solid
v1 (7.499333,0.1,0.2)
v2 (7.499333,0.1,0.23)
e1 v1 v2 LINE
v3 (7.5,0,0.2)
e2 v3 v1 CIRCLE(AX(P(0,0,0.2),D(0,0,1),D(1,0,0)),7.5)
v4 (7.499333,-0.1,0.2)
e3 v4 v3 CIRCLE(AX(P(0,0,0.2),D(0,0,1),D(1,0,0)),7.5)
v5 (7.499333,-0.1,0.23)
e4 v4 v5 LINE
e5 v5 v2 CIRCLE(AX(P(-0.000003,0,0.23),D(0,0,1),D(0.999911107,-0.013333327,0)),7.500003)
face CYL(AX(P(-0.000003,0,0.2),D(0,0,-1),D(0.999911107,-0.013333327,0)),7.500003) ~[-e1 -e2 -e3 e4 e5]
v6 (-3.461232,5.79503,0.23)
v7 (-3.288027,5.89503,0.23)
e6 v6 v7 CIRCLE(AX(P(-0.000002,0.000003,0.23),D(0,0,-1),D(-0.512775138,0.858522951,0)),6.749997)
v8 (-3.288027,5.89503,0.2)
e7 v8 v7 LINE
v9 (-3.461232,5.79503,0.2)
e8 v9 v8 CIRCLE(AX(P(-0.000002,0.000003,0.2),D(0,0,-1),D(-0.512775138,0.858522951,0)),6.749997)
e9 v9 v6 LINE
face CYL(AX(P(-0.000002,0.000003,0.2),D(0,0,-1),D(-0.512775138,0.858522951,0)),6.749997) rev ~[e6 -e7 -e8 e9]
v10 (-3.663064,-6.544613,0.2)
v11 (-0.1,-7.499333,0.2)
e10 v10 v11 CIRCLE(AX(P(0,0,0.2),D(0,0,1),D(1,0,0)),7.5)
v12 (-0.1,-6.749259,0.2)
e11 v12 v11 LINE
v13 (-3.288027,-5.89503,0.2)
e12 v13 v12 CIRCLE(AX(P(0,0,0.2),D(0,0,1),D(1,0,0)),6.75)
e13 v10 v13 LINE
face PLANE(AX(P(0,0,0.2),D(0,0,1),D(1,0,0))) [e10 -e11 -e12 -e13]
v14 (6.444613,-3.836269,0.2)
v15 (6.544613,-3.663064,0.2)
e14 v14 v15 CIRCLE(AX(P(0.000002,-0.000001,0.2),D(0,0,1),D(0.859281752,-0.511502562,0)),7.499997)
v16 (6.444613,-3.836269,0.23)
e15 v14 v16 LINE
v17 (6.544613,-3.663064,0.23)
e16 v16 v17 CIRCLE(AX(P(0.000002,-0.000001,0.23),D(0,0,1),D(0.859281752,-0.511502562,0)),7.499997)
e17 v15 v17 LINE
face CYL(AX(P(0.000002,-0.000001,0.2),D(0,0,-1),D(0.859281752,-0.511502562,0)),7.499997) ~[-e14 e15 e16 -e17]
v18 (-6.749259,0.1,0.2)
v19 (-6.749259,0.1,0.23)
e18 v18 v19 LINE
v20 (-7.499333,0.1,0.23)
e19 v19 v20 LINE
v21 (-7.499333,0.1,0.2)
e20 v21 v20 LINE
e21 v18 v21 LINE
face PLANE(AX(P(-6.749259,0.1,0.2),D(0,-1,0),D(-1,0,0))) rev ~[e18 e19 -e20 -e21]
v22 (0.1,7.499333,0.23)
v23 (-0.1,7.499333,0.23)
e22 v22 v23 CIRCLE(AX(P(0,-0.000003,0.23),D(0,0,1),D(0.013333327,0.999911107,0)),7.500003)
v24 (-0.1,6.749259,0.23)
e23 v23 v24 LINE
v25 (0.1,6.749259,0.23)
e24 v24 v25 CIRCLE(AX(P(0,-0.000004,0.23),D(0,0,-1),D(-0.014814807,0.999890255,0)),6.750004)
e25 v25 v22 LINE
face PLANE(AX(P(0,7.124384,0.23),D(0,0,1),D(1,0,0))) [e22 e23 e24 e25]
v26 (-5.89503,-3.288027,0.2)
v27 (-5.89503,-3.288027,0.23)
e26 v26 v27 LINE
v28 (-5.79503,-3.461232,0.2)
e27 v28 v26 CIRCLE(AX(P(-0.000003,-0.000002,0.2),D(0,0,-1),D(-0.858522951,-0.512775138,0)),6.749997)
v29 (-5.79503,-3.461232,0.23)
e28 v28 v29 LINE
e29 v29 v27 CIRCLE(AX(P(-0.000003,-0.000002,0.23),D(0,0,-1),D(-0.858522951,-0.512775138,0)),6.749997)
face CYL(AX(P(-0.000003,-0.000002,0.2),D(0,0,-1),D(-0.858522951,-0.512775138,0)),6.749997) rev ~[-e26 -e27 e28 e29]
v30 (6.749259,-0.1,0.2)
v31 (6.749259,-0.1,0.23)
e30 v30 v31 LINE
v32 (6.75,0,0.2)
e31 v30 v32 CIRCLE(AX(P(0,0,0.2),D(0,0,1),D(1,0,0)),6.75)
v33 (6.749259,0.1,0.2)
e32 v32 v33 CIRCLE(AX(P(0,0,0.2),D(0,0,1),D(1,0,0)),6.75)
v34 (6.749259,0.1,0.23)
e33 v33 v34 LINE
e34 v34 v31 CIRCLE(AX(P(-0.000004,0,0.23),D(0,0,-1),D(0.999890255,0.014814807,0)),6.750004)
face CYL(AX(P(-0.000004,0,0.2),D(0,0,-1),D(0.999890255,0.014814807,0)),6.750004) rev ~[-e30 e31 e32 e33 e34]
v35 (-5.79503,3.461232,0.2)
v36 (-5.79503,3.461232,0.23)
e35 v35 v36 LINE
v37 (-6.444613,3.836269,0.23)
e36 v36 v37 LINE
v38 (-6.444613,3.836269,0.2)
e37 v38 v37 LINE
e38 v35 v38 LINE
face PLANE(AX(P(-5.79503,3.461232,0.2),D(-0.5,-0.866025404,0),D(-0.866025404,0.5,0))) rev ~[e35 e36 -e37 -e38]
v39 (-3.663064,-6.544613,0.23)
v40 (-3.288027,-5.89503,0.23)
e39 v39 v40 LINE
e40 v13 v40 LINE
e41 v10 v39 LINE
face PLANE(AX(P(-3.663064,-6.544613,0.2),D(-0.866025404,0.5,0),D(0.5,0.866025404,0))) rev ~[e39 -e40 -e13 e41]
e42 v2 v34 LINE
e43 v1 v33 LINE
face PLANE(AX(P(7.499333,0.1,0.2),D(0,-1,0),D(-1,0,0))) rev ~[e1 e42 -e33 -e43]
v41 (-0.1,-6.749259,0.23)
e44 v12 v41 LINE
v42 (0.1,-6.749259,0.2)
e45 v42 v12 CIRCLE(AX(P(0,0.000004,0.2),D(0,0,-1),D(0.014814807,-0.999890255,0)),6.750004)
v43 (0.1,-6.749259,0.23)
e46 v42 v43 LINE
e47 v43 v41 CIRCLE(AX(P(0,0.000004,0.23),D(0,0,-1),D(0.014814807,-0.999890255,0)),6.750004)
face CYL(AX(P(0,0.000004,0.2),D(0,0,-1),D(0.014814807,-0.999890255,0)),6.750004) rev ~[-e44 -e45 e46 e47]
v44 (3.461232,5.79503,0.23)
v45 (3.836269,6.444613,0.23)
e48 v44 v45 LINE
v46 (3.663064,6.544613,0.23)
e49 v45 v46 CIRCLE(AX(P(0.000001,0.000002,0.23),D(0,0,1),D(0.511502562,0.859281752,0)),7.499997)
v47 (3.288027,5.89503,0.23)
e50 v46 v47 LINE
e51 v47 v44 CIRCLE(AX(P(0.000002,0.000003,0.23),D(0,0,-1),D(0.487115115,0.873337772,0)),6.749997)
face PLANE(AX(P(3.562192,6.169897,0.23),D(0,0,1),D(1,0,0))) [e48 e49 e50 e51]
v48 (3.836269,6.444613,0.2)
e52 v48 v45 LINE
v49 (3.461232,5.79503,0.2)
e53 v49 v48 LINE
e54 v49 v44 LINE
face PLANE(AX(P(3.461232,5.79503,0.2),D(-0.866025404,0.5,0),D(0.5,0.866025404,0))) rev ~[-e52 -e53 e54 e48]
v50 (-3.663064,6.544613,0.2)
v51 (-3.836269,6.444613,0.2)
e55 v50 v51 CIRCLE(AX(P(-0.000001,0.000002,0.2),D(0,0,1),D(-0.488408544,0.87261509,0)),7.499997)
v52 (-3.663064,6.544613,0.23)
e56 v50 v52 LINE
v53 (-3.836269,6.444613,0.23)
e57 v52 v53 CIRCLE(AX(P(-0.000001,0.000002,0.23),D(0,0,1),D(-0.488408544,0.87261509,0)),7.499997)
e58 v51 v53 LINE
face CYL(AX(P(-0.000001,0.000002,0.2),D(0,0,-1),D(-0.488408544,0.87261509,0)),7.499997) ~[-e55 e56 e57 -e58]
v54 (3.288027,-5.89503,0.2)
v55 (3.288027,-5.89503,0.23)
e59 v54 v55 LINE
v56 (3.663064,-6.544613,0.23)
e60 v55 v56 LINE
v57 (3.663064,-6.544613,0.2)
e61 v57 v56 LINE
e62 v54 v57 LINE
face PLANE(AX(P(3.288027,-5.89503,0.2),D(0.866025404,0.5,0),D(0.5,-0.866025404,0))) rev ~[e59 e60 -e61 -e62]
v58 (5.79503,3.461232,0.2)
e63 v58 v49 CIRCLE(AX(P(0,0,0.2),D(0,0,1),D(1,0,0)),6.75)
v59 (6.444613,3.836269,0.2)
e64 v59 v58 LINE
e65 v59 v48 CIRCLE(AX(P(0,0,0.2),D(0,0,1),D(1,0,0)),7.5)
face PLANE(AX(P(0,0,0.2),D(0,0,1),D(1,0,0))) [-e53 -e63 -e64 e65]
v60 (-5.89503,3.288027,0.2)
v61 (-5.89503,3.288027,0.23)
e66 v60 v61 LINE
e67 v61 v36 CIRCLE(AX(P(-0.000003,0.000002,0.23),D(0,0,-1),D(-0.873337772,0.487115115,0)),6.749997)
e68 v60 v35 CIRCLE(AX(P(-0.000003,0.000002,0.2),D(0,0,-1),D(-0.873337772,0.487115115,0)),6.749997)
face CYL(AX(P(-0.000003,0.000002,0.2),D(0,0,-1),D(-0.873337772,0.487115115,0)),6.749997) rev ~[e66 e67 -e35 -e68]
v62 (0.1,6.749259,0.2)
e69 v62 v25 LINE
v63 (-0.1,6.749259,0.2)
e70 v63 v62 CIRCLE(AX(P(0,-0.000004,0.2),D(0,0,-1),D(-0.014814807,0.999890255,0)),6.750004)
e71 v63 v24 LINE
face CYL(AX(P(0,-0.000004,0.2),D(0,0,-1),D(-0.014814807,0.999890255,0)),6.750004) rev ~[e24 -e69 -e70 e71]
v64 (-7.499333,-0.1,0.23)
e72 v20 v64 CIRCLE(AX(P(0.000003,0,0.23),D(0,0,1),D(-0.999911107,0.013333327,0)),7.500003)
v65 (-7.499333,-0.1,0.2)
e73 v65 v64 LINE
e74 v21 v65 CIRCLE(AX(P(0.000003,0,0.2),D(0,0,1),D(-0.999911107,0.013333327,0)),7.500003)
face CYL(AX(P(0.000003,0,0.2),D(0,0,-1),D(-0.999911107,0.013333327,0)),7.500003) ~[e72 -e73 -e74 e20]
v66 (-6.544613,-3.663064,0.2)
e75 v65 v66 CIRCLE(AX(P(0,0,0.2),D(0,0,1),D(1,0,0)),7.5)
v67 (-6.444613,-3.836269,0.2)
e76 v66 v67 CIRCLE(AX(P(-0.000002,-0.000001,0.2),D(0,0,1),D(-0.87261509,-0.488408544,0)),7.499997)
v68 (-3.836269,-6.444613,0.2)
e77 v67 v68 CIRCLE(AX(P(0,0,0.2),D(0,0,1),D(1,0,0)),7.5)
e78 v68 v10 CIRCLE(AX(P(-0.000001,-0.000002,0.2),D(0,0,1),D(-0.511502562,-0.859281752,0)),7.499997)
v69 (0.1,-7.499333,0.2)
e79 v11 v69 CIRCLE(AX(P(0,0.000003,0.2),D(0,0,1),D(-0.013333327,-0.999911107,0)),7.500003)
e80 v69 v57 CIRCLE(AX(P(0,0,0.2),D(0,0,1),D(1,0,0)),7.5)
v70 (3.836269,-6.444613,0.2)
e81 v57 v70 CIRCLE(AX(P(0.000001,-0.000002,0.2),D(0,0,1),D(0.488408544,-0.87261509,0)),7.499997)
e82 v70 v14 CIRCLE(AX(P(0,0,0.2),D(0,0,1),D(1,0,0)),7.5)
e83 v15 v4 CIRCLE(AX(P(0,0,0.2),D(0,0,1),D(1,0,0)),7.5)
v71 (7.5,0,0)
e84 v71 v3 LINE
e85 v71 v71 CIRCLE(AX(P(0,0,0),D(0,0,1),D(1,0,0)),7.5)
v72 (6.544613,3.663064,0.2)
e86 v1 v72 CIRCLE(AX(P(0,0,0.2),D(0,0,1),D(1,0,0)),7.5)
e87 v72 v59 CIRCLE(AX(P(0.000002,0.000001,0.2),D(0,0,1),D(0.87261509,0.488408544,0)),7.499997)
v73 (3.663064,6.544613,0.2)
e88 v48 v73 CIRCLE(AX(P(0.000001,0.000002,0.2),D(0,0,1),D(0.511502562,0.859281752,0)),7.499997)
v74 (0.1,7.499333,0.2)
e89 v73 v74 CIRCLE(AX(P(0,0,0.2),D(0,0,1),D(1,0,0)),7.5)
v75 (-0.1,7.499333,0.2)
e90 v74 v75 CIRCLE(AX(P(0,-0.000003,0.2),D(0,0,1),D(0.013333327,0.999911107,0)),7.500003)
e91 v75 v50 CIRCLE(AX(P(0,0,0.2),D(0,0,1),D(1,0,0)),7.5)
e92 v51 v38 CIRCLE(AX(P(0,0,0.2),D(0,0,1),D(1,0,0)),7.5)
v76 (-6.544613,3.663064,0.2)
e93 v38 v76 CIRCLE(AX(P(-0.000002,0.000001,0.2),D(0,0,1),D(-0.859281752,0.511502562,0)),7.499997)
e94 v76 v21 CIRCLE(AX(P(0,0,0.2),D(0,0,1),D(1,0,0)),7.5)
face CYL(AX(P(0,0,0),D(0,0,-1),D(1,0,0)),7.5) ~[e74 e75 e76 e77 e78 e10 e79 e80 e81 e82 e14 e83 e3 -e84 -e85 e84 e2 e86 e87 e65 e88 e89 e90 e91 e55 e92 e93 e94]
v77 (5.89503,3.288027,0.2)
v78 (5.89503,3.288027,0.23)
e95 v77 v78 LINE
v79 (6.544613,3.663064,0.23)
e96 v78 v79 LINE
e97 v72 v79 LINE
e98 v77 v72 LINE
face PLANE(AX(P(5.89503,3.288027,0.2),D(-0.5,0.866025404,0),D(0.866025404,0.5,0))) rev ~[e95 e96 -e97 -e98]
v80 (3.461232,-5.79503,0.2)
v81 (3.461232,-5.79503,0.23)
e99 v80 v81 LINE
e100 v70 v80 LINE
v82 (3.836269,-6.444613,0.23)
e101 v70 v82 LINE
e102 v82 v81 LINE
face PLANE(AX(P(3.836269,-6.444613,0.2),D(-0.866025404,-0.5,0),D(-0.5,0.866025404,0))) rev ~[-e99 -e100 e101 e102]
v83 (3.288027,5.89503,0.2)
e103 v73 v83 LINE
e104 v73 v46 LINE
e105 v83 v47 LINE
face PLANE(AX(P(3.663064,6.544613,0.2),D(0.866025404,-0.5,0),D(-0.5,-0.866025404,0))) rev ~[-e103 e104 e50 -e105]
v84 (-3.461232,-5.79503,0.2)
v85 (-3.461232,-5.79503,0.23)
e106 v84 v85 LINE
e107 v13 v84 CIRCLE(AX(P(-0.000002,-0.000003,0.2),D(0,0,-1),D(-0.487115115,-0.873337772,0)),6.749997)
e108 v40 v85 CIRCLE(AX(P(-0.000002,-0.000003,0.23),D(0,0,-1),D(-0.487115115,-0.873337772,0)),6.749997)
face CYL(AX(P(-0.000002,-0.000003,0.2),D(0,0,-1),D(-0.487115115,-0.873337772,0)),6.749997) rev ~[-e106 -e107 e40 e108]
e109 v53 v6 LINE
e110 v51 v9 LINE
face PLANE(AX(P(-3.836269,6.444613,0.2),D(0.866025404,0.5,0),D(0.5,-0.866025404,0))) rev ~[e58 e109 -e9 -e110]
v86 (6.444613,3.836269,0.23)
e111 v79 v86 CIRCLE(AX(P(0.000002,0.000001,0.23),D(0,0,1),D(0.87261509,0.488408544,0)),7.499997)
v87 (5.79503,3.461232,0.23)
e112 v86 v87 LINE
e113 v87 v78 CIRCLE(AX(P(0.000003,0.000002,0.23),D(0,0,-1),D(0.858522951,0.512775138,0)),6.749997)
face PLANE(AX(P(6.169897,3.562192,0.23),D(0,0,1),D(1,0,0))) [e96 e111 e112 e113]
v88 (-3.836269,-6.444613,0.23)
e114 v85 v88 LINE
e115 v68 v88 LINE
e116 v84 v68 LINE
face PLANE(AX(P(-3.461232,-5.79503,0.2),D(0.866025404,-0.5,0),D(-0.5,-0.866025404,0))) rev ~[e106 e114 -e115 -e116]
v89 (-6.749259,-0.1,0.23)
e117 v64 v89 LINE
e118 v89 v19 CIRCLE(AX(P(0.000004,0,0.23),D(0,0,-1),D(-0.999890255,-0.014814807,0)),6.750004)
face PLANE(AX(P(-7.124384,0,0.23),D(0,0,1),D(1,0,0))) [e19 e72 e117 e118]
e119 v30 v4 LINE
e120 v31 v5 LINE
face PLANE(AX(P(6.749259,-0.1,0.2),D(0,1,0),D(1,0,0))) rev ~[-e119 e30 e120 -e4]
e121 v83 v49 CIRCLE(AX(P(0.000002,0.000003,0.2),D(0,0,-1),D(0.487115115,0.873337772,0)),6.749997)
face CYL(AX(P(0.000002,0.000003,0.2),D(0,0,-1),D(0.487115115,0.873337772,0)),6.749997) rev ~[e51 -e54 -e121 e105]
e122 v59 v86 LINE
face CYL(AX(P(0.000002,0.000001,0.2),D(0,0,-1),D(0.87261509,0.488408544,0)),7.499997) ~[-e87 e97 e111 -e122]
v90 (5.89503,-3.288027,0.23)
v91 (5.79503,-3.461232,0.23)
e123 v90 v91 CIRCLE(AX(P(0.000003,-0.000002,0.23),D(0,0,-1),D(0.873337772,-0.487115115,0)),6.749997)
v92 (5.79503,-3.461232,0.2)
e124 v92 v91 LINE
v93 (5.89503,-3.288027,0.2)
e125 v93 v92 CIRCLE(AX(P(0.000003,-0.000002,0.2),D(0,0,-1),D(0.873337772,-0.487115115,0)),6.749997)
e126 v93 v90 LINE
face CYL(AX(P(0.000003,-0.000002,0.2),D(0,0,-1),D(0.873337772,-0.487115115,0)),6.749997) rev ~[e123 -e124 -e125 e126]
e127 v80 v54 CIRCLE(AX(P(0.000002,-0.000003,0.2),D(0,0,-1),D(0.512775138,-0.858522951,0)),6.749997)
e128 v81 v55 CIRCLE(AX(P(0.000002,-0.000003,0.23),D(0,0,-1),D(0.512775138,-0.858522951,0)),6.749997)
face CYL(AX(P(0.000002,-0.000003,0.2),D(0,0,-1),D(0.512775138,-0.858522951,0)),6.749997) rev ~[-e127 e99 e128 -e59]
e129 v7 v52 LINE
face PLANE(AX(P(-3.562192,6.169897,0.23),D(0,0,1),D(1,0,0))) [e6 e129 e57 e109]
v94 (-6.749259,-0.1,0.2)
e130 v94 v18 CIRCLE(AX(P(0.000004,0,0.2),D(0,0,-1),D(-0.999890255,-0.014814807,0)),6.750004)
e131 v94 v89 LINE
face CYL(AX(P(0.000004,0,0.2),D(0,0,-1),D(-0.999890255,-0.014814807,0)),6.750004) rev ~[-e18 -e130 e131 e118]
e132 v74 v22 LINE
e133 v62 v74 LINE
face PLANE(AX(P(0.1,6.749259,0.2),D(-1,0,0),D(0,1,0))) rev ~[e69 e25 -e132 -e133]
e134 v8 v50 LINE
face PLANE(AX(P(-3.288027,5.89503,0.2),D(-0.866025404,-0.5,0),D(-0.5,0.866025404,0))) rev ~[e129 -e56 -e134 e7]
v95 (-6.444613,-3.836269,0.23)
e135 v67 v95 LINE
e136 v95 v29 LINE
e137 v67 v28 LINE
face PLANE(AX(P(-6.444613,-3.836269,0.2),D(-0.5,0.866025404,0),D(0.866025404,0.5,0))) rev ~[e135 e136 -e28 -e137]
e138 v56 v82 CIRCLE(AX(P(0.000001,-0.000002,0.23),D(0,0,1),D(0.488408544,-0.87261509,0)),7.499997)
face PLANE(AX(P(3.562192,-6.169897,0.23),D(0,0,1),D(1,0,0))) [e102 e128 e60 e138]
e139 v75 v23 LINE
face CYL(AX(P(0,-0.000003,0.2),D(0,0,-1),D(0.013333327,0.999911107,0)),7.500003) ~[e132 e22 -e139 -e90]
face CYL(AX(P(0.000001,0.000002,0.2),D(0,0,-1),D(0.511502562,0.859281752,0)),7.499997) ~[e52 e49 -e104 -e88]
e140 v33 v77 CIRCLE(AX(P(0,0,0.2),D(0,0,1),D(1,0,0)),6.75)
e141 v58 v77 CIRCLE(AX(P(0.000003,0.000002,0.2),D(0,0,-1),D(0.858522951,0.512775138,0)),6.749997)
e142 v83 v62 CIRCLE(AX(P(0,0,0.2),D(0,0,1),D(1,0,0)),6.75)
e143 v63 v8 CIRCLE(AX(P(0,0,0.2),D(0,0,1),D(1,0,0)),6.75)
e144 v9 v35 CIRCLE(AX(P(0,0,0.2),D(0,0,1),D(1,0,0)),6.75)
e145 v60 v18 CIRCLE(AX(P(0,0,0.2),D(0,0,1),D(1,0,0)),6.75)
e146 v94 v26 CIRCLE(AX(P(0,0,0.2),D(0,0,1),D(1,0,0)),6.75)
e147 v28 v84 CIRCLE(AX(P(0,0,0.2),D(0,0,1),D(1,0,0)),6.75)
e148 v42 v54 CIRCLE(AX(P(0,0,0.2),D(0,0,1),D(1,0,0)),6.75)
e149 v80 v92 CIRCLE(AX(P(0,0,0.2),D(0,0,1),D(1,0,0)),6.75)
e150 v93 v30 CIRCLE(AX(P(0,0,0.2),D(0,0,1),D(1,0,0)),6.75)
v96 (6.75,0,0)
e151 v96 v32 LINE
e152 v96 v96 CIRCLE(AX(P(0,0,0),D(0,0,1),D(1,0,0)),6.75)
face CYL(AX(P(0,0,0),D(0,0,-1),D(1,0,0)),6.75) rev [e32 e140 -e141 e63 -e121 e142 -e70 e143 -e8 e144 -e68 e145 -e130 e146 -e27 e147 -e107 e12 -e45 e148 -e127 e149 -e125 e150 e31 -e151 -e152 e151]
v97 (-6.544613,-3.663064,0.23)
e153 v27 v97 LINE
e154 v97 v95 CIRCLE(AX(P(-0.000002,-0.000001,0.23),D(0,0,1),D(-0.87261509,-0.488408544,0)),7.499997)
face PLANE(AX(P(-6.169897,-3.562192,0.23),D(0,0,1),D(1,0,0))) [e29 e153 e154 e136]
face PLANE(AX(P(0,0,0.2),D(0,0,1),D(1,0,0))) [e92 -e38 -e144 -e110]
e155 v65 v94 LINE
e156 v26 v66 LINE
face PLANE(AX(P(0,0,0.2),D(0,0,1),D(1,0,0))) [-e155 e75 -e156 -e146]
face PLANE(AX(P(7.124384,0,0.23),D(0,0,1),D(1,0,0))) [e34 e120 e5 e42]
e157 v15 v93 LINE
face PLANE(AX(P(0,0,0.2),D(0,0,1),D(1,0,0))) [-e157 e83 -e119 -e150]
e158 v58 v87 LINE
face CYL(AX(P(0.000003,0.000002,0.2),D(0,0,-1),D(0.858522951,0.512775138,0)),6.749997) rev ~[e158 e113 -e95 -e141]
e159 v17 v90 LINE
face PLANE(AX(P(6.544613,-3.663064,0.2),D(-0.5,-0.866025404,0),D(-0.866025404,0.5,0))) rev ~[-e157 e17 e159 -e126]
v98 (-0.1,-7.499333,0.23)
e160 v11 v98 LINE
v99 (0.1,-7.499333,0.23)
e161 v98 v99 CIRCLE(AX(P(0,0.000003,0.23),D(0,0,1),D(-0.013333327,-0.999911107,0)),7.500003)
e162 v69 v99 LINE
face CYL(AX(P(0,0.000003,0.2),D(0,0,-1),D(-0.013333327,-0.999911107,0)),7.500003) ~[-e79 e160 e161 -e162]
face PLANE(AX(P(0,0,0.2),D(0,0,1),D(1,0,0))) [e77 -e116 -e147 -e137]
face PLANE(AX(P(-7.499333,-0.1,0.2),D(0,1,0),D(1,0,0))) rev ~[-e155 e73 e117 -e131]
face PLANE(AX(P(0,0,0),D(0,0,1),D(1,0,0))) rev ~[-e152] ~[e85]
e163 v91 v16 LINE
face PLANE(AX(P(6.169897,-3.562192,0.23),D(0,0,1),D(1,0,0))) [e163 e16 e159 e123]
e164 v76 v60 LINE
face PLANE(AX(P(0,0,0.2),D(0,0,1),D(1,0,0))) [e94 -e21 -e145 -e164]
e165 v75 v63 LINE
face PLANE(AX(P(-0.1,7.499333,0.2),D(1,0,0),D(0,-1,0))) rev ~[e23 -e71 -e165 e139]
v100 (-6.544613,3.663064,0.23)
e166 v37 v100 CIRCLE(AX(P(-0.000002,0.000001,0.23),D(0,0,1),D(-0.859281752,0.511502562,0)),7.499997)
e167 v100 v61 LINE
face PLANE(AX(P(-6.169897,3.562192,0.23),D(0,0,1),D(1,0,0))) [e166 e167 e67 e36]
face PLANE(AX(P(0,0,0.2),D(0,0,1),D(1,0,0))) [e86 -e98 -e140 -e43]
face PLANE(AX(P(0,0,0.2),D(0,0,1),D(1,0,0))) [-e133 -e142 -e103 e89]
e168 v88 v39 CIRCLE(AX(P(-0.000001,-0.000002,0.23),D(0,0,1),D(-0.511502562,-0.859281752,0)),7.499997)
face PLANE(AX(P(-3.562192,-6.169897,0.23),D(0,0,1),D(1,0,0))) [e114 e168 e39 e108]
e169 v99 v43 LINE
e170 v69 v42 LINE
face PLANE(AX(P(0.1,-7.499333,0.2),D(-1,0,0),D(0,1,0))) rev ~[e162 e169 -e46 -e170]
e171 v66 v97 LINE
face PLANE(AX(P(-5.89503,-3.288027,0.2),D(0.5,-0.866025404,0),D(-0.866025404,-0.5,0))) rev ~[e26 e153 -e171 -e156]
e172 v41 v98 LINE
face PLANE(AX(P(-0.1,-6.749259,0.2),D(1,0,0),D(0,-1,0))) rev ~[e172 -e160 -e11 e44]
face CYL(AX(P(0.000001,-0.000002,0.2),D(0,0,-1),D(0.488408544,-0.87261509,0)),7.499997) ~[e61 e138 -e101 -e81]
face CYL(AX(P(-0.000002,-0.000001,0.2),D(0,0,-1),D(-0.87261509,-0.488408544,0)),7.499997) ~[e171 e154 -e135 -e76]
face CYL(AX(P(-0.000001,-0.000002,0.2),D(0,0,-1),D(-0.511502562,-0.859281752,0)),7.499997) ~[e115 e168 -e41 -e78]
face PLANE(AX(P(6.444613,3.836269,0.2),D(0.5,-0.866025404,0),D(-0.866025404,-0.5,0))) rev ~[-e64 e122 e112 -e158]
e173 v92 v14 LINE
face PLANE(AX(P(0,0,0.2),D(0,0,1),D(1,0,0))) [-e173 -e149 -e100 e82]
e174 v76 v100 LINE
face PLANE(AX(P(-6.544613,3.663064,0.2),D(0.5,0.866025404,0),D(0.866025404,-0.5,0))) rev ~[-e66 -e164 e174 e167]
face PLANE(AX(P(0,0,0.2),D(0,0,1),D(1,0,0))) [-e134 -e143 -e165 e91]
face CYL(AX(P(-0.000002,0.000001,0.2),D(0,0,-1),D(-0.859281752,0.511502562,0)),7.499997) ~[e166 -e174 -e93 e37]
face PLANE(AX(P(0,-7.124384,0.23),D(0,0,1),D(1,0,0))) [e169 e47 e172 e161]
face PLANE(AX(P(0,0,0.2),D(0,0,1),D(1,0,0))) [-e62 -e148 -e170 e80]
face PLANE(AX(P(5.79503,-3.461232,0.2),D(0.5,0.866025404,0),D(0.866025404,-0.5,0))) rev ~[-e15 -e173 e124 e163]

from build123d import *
from build123d.topology import SkipClean

# Parameters (mm, degrees)
SKETCH1_R           = 7.5
SKETCH1_R_2         = 6.75
BOSS_EXTRUDE1_DEPTH = 0.2
BOSS_EXTRUDE3_DEPTH = 0.03


with BuildPart() as part:
    # Sketch1 → Boss-Extrude1 (new body)
    with BuildSketch(Plane.XY):
        Circle(SKETCH1_R)
        Circle(SKETCH1_R_2, mode=Mode.SUBTRACT)
    extrude(amount=BOSS_EXTRUDE1_DEPTH)

    # Sketch2 → Boss-Extrude3 (add)
    with SkipClean():  # the faces are left unmerged after this step: merging them gives an invalid solid
        with BuildSketch(Plane.XY.offset(0.2)):
            with BuildLine():
                Line((3.663064111, 6.544613152), (3.288027069, 5.89502994))
                ThreePointArc((3.288027069, 5.89502994), (3.375, 5.845671476), (3.46123215, 5.79502994))
                Line((3.46123215, 5.79502994), (3.836269192, 6.444613152))
                ThreePointArc((3.836269192, 6.444613152), (3.75, 6.495190528), (3.663064111, 6.544613152))
            make_face()
            with BuildLine():
                Line((-0.1, 7.499333304), (-0.1, 6.749259219))
                ThreePointArc((-0.1, 6.749259219), (0, 6.75), (0.1, 6.749259219))
                Line((0.1, 6.749259219), (0.1, 7.499333304))
                ThreePointArc((0.1, 7.499333304), (0, 7.5), (-0.1, 7.499333304))
            make_face()
            with BuildLine():
                Line((6.444613152, 3.836269192), (5.79502994, 3.46123215))
                ThreePointArc((5.79502994, 3.46123215), (5.845671476, 3.375), (5.89502994, 3.288027069))
                Line((5.89502994, 3.288027069), (6.544613152, 3.663064111))
                ThreePointArc((6.544613152, 3.663064111), (6.495190528, 3.75), (6.444613152, 3.836269192))
            make_face()
            with BuildLine():
                Line((7.499333304, 0.1), (6.749259219, 0.1))
                ThreePointArc((6.749259219, 0.1), (6.75, 0), (6.749259219, -0.1))
                Line((6.749259219, -0.1), (7.499333304, -0.1))
                ThreePointArc((7.499333304, -0.1), (7.5, 0), (7.499333304, 0.1))
            make_face()
            with BuildLine():
                Line((6.544613152, -3.663064111), (5.89502994, -3.288027069))
                ThreePointArc((5.89502994, -3.288027069), (5.845671476, -3.375), (5.79502994, -3.46123215))
                Line((5.79502994, -3.46123215), (6.444613152, -3.836269192))
                ThreePointArc((6.444613152, -3.836269192), (6.495190528, -3.75), (6.544613152, -3.663064111))
            make_face()
            with BuildLine():
                Line((3.836269192, -6.444613152), (3.46123215, -5.79502994))
                ThreePointArc((3.46123215, -5.79502994), (3.375, -5.845671476), (3.288027069, -5.89502994))
                Line((3.288027069, -5.89502994), (3.663064111, -6.544613152))
                ThreePointArc((3.663064111, -6.544613152), (3.75, -6.495190528), (3.836269192, -6.444613152))
            make_face()
            with BuildLine():
                Line((0.1, -7.499333304), (0.1, -6.749259219))
                ThreePointArc((0.1, -6.749259219), (0, -6.75), (-0.1, -6.749259219))
                Line((-0.1, -6.749259219), (-0.1, -7.499333304))
                ThreePointArc((-0.1, -7.499333304), (0, -7.5), (0.1, -7.499333304))
            make_face()
            with BuildLine():
                Line((-3.663064111, -6.544613152), (-3.288027069, -5.89502994))
                ThreePointArc((-3.288027069, -5.89502994), (-3.375, -5.845671476), (-3.46123215, -5.79502994))
                Line((-3.46123215, -5.79502994), (-3.836269192, -6.444613152))
                ThreePointArc((-3.836269192, -6.444613152), (-3.75, -6.495190528), (-3.663064111, -6.544613152))
            make_face()
            with BuildLine():
                Line((-6.444613152, -3.836269192), (-5.79502994, -3.46123215))
                ThreePointArc((-5.79502994, -3.46123215), (-5.845671476, -3.375), (-5.89502994, -3.288027069))
                Line((-5.89502994, -3.288027069), (-6.544613152, -3.663064111))
                ThreePointArc((-6.544613152, -3.663064111), (-6.495190528, -3.75), (-6.444613152, -3.836269192))
            make_face()
            with BuildLine():
                Line((-7.499333304, -0.1), (-6.749259219, -0.1))
                ThreePointArc((-6.749259219, -0.1), (-6.75, 0), (-6.749259219, 0.1))
                Line((-6.749259219, 0.1), (-7.499333304, 0.1))
                ThreePointArc((-7.499333304, 0.1), (-7.5, 0), (-7.499333304, -0.1))
            make_face()
            with BuildLine():
                Line((-6.544613152, 3.663064111), (-5.89502994, 3.288027069))
                ThreePointArc((-5.89502994, 3.288027069), (-5.845671476, 3.375), (-5.79502994, 3.46123215))
                Line((-5.79502994, 3.46123215), (-6.444613152, 3.836269192))
                ThreePointArc((-6.444613152, 3.836269192), (-6.495190528, 3.75), (-6.544613152, 3.663064111))
            make_face()
            with BuildLine():
                Line((-3.836269192, 6.444613152), (-3.46123215, 5.79502994))
                ThreePointArc((-3.46123215, 5.79502994), (-3.375, 5.845671476), (-3.288027069, 5.89502994))
                Line((-3.288027069, 5.89502994), (-3.663064111, 6.544613152))
                ThreePointArc((-3.663064111, 6.544613152), (-3.75, 6.495190528), (-3.836269192, 6.444613152))
            make_face()
        extrude(amount=BOSS_EXTRUDE3_DEPTH)


solid = part.part
